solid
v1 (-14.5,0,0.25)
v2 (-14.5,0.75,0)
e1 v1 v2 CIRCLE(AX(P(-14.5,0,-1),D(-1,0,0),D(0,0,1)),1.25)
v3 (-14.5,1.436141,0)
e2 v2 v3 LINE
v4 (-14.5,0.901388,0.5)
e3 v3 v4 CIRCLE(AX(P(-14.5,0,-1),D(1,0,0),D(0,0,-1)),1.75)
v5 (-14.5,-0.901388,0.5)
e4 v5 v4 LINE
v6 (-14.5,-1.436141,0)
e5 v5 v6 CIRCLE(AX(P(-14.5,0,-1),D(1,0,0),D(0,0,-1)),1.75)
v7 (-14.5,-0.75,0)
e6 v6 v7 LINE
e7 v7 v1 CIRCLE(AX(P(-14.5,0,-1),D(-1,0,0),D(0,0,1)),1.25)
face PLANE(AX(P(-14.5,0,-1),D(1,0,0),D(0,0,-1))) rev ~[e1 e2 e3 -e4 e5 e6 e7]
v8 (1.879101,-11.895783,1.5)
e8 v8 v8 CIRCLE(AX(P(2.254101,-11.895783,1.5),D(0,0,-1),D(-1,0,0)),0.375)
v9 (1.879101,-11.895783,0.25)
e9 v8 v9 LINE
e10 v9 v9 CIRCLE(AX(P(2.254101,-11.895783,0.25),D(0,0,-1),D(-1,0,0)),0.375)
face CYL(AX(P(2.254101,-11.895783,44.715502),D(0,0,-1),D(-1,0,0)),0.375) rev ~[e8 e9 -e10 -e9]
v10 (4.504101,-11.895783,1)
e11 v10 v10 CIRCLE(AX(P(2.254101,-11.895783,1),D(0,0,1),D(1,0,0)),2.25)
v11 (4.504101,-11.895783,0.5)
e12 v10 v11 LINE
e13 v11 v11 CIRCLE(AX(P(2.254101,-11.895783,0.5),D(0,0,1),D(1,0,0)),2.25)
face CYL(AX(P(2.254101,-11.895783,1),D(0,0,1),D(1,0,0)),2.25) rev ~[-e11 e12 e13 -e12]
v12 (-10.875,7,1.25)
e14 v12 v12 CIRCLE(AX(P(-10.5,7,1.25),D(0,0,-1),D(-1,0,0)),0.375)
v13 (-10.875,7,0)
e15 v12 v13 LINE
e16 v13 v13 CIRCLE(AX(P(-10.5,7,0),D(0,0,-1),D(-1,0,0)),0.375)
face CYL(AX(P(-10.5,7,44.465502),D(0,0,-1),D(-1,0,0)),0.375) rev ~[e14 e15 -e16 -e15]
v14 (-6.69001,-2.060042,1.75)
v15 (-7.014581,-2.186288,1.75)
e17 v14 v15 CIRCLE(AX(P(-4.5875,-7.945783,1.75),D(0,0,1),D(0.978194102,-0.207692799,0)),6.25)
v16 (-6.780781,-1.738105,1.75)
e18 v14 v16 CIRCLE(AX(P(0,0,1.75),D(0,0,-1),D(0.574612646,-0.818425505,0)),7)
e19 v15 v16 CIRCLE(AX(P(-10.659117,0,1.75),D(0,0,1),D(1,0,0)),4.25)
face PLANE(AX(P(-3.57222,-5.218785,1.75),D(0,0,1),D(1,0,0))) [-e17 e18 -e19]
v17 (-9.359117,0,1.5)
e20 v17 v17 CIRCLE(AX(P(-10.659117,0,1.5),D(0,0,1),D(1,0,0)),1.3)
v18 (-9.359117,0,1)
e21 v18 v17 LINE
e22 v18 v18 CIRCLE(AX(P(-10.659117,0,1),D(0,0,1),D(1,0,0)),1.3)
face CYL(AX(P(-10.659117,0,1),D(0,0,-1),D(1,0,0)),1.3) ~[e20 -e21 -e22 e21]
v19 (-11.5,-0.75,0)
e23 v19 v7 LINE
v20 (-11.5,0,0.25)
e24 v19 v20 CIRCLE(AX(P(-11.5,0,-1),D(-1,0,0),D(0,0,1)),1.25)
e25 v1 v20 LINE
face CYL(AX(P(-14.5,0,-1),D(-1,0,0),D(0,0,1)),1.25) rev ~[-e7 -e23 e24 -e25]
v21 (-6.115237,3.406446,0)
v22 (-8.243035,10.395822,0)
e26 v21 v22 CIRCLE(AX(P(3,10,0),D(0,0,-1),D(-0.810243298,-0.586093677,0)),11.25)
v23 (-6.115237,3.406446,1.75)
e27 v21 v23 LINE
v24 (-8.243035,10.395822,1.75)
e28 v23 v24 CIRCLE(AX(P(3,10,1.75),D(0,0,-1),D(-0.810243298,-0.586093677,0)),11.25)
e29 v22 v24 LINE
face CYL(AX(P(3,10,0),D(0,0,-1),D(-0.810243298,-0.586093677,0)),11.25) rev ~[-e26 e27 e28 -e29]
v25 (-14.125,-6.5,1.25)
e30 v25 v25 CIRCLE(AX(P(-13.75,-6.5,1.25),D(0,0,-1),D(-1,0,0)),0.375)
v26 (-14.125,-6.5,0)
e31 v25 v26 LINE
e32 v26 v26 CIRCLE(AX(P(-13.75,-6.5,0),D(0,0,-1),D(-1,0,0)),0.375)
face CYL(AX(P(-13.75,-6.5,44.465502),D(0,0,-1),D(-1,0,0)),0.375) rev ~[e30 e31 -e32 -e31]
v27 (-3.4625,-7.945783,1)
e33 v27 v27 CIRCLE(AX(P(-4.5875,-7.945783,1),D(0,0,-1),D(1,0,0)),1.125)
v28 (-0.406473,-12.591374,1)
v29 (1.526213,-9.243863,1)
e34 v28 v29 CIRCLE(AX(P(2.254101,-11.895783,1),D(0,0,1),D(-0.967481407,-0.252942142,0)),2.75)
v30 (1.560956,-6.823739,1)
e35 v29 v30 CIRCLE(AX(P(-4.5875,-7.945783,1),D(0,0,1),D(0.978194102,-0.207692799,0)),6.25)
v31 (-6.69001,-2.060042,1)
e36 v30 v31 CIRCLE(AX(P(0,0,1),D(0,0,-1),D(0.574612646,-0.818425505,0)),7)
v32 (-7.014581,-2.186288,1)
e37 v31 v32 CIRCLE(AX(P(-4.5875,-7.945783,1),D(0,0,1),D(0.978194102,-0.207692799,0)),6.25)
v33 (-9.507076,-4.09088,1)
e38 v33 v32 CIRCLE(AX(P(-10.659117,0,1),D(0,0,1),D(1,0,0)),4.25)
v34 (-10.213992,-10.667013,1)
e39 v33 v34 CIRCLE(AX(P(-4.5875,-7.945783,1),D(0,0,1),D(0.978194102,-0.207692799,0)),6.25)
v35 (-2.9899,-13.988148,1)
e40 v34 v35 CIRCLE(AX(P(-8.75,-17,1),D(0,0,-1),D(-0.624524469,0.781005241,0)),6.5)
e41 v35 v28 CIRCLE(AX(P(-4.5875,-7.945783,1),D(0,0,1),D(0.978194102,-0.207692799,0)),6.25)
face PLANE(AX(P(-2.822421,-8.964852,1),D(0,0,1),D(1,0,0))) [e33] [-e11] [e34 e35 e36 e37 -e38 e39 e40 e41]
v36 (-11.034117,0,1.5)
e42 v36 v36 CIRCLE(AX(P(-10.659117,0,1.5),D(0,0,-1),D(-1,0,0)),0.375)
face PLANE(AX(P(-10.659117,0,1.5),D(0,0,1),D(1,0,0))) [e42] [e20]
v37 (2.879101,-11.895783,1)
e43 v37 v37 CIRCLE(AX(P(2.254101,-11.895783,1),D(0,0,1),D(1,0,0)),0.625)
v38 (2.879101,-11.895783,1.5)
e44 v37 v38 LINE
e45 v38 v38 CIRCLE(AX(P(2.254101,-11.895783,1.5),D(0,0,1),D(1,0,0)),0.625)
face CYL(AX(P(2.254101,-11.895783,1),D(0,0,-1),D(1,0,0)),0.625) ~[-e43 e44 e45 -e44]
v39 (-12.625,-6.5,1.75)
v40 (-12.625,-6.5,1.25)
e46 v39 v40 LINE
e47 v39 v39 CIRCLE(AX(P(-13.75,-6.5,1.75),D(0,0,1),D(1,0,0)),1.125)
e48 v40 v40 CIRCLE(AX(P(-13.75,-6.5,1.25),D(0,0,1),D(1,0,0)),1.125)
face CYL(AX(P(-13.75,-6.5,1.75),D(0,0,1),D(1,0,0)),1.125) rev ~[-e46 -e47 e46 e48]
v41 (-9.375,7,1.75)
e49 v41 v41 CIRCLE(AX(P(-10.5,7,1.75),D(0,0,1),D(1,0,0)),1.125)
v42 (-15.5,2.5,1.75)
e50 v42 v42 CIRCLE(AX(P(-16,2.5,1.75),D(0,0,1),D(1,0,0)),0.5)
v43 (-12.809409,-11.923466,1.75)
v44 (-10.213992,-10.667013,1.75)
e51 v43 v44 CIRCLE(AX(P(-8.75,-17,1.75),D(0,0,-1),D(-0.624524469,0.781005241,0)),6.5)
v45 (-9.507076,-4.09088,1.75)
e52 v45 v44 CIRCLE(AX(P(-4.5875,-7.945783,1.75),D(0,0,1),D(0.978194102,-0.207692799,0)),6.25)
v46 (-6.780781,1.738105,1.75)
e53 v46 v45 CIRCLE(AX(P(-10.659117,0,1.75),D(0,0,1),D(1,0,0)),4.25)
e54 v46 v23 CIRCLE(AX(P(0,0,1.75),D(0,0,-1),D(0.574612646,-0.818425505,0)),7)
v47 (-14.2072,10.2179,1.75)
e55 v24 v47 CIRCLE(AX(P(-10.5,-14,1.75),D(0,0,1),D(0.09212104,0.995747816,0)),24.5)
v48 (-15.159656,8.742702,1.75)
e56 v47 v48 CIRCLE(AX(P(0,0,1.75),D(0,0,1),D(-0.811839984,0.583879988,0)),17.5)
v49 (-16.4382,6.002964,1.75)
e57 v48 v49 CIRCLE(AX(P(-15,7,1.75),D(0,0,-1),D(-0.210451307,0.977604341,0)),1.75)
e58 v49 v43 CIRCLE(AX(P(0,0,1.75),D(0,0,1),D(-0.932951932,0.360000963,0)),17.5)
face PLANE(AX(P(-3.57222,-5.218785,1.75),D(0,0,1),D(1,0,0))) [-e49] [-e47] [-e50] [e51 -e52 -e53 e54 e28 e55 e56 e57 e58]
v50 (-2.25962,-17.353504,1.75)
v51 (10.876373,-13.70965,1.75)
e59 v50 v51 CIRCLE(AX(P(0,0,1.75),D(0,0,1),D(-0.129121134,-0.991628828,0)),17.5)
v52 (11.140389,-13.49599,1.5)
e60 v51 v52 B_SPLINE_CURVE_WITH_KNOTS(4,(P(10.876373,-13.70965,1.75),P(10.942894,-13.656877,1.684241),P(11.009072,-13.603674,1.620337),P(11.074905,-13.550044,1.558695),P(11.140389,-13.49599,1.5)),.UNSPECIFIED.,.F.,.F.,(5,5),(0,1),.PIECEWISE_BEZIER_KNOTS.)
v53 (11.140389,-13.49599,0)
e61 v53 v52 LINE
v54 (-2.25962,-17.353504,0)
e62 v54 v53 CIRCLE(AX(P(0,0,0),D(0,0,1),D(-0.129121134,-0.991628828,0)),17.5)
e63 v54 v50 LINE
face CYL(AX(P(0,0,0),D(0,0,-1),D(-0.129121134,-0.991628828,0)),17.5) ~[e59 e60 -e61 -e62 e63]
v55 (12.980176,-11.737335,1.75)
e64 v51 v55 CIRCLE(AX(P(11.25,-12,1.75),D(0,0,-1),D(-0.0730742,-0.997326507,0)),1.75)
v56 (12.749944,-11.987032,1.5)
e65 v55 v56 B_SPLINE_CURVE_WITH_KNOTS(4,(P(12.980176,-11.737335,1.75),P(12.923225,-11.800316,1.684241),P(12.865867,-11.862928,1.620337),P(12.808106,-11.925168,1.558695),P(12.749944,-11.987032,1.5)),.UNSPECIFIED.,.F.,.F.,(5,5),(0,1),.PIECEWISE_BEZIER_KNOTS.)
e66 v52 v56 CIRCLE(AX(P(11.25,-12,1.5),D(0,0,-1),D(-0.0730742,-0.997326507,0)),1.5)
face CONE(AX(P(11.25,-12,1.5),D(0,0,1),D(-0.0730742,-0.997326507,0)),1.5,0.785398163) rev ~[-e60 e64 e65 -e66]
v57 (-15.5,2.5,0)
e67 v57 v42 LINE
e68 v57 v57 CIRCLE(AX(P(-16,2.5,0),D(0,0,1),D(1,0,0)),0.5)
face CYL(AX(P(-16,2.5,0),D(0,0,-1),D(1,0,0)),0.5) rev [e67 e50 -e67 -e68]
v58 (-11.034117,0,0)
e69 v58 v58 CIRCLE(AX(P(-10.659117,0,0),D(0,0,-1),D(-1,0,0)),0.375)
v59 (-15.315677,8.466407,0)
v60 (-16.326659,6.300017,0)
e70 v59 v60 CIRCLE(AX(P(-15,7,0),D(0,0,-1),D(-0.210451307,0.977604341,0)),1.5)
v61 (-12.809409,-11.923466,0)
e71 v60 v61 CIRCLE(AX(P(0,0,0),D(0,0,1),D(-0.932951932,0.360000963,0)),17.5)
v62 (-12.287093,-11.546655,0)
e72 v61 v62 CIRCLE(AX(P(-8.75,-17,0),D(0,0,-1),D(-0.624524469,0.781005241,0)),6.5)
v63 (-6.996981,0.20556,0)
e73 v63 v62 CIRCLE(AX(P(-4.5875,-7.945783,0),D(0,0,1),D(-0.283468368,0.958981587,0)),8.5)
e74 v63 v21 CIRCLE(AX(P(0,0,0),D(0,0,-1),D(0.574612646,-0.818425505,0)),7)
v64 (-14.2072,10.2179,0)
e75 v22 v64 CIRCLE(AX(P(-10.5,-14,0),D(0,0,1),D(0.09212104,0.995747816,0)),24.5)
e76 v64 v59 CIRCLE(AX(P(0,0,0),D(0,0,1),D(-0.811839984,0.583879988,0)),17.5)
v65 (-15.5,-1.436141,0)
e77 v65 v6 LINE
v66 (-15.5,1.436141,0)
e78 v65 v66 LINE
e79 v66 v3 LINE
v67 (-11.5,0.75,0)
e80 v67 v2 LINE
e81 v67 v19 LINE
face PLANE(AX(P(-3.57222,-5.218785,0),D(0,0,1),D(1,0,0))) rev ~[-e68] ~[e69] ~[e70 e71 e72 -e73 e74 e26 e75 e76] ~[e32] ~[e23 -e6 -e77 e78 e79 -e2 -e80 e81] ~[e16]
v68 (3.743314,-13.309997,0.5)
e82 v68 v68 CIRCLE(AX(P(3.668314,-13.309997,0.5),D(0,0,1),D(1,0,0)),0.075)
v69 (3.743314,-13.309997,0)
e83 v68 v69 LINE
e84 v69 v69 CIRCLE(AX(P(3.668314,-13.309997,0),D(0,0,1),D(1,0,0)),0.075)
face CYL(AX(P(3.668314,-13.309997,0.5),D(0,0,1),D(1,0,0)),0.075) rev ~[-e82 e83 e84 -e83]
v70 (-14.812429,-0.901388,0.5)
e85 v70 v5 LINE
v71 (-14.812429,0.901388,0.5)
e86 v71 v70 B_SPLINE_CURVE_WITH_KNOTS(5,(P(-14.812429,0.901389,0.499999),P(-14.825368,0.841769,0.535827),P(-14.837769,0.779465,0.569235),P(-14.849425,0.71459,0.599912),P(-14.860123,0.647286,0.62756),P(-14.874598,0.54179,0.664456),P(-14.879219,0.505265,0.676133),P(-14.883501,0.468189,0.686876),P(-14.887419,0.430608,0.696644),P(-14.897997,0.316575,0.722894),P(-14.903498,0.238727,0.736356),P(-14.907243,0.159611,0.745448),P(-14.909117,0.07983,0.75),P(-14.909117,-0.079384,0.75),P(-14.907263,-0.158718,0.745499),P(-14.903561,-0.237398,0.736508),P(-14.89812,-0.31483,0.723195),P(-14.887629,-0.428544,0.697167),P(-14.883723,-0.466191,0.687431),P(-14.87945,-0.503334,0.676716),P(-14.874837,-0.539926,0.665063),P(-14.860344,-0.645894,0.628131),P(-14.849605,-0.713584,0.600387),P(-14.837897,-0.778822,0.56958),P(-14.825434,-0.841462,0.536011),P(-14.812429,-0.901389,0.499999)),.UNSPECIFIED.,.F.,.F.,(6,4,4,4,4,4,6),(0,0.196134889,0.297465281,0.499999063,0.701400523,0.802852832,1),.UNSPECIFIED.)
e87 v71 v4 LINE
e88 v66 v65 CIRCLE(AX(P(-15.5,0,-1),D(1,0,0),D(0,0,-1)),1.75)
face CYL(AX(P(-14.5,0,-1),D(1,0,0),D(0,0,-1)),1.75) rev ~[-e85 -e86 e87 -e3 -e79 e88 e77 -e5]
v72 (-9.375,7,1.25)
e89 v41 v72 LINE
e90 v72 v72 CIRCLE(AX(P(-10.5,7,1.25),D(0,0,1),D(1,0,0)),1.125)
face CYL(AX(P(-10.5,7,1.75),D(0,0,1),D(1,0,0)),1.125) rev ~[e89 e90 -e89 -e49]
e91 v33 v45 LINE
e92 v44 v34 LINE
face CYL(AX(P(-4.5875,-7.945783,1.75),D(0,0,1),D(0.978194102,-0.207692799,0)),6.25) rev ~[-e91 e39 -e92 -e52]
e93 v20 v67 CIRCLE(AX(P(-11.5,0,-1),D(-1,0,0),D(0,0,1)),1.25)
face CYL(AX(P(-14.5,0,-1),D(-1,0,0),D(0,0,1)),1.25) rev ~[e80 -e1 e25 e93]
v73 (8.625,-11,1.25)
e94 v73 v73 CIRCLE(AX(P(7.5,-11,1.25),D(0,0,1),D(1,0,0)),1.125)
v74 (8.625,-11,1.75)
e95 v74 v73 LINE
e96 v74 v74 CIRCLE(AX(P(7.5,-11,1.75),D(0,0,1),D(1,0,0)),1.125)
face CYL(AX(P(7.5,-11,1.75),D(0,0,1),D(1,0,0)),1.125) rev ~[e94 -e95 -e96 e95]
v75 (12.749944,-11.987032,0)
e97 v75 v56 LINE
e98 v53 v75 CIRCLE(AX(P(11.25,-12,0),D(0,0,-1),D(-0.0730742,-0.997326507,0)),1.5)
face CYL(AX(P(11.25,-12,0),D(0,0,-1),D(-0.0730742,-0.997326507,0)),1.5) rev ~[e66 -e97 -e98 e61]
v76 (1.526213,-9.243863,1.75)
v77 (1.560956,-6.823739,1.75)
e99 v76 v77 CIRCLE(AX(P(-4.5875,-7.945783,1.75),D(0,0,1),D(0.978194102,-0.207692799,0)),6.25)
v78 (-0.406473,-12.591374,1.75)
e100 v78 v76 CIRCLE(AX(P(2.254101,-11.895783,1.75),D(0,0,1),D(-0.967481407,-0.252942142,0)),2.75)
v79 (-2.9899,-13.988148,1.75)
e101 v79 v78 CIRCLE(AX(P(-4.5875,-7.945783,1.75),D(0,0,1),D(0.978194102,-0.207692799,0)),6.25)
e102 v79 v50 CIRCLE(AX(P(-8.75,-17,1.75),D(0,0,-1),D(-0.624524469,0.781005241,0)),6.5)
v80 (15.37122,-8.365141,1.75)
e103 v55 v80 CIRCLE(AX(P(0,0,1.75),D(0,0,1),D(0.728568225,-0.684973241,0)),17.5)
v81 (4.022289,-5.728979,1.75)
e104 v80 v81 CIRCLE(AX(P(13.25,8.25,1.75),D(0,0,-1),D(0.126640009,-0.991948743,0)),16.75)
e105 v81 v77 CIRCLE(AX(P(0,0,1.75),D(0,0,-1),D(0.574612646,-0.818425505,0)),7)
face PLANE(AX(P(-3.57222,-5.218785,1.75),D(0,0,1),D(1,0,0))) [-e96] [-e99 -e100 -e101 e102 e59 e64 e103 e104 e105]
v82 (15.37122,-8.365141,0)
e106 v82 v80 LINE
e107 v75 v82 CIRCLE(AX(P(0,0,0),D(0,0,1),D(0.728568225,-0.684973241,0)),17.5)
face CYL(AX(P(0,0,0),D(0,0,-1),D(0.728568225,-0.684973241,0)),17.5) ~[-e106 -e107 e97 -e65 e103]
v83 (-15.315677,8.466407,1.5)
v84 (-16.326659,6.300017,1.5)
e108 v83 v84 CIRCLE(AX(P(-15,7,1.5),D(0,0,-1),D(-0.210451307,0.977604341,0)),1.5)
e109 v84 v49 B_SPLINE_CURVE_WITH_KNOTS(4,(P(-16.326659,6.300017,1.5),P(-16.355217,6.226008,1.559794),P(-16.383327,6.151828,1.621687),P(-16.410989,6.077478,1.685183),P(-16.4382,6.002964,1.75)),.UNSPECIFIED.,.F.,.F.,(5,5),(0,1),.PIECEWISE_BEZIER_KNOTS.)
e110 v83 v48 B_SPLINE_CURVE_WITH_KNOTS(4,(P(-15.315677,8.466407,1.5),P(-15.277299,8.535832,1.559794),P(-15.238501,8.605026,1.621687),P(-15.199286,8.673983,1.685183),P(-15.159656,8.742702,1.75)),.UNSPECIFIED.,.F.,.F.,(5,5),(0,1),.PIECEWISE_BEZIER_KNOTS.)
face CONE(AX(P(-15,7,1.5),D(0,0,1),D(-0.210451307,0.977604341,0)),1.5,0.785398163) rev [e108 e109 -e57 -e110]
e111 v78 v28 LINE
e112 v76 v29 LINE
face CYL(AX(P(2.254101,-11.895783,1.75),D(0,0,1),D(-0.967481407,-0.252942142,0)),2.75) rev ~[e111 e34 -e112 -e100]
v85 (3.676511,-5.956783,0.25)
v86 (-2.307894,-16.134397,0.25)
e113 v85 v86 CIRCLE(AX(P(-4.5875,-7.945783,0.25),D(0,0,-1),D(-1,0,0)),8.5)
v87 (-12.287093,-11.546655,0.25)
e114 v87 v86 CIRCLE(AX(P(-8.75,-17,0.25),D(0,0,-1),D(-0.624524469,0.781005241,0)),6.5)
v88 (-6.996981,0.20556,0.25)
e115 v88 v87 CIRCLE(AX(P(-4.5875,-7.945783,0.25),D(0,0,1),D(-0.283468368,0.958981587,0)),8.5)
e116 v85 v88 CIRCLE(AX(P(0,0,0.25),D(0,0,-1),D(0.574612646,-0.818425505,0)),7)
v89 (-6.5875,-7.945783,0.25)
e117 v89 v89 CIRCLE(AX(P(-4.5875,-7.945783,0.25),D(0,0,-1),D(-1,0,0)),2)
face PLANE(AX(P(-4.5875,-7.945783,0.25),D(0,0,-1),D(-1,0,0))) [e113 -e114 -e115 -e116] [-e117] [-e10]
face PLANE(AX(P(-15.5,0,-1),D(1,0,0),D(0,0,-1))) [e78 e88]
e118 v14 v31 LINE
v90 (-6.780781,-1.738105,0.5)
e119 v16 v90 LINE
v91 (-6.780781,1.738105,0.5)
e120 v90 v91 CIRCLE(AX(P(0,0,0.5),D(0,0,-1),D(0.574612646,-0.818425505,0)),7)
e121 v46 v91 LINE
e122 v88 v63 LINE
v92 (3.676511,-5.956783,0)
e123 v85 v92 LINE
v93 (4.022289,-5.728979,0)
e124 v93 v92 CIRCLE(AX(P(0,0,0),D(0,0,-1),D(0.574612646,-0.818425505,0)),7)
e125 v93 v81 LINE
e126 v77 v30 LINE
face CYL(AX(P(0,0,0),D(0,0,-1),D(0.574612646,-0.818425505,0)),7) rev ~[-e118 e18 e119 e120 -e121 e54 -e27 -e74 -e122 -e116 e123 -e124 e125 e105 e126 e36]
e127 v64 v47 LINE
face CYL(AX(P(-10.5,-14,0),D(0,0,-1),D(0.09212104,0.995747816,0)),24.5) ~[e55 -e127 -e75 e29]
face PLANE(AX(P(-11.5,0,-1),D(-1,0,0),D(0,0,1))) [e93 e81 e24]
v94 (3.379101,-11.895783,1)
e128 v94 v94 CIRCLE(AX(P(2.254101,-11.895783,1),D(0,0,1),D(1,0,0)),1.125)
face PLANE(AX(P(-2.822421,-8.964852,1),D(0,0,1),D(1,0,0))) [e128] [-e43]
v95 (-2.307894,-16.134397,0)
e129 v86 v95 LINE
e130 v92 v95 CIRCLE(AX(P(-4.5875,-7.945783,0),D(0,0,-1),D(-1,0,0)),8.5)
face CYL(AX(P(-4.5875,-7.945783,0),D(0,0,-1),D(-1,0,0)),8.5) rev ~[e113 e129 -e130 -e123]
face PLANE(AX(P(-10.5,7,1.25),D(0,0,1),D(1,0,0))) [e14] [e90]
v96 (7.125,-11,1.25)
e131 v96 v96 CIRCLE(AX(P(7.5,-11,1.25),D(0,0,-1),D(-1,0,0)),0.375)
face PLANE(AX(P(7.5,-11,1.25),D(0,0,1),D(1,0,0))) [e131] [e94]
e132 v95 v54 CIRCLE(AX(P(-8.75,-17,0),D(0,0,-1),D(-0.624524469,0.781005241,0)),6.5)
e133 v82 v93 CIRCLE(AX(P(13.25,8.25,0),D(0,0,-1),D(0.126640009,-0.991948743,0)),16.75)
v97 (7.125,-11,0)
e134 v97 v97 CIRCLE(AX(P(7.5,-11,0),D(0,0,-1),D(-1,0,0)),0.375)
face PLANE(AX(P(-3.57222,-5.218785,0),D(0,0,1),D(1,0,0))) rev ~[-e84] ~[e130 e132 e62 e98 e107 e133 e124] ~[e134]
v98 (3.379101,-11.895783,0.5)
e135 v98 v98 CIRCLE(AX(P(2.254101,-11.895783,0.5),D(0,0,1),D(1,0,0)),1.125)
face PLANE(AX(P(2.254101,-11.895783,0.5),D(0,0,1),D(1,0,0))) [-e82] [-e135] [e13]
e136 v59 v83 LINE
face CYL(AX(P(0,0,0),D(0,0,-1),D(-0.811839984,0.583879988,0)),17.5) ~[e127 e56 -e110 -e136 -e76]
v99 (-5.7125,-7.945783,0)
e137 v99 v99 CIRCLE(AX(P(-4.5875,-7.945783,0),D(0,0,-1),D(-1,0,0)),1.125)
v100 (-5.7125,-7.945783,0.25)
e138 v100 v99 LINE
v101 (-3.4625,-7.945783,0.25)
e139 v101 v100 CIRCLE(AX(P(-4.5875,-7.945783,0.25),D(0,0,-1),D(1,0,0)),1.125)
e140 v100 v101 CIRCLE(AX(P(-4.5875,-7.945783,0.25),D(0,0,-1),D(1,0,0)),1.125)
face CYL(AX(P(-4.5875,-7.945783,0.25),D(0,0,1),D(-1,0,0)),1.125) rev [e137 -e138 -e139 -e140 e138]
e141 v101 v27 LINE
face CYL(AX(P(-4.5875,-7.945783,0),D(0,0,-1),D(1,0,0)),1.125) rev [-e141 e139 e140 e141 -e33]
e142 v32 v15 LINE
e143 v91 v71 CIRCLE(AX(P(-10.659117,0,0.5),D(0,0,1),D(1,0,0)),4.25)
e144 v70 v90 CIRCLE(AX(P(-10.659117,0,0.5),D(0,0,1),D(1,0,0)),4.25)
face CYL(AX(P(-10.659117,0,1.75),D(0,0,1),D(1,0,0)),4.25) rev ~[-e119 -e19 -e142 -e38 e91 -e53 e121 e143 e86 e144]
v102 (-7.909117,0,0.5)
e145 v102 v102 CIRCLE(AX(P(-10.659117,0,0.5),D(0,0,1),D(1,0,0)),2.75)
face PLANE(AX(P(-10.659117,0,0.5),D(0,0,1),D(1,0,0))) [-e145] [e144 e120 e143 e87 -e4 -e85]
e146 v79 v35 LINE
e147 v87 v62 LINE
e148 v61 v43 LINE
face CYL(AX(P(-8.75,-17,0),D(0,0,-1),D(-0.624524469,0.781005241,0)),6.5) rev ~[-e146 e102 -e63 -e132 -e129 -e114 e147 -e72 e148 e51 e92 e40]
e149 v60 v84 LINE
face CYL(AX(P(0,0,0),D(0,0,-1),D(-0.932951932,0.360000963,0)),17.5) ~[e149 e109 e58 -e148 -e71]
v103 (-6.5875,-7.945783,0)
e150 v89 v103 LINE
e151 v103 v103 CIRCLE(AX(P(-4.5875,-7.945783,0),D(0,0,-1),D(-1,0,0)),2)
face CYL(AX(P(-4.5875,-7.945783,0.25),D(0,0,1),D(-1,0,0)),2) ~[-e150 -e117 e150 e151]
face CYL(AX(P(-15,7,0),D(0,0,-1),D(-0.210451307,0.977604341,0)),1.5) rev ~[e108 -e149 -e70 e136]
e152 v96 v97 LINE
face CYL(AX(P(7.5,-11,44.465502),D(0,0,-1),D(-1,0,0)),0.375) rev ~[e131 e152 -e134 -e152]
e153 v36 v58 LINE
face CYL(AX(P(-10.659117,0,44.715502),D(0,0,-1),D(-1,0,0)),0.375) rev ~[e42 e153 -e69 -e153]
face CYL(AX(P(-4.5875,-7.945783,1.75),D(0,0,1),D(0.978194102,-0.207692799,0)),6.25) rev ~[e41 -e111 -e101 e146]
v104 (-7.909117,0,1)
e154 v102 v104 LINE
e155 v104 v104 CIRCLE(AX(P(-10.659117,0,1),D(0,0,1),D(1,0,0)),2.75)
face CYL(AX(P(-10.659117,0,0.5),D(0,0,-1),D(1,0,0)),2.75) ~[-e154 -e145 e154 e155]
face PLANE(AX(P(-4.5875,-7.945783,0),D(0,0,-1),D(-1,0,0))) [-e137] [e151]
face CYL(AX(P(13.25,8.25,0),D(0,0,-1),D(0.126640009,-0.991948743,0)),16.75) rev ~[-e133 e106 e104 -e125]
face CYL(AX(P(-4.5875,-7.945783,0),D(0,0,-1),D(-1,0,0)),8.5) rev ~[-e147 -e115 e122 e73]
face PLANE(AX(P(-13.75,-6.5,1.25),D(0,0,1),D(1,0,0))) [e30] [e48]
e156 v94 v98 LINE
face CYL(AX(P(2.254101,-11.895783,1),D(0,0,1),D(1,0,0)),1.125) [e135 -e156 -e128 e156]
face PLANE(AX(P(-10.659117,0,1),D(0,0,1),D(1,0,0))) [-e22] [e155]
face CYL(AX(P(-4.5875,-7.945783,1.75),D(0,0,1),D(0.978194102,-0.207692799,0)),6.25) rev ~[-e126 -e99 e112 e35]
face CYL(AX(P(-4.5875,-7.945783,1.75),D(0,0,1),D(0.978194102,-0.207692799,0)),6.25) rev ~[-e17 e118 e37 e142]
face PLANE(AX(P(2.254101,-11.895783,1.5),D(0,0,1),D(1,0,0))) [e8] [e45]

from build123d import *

# Parameters (mm, degrees)
CROQUIS2_R                 = 1.125
CROQUIS2_R_2               = 0.5
SALIENTE_EXTRUIR1_DEPTH    = 1.75
CORTAR_EXTRUIR1_DEPTH      = 0.75
CROQUIS4_R                 = 8.5
CORTAR_EXTRUIR2_DEPTH      = 0.25
CROQUIS5_R                 = 2.25
CROQUIS5_R_2               = 1.125
CORTAR_EXTRUIR3_DEPTH      = 0.5
CROQUIS6_R                 = 0.625
SALIENTE_EXTRUIR2_DEPTH    = 0.5
CROQUIS7_R                 = 4.25
CORTAR_EXTRUIR4_DEPTH      = 1.25
CROQUIS8_R                 = 2.75
SALIENTE_EXTRUIR3_DEPTH    = 0.5
CROQUIS9_R                 = 1.3
SALIENTE_EXTRUIR4_DEPTH    = 0.5
CROQUIS10_R                = 0.075
CORTAR_EXTRUIR5_DEPTH      = 1.5
CROQUIS11_R                = 1.125
CORTAR_EXTRUIR6_DEPTH      = 0.5
TALADRO_ROSCADO_M1X0_251_D = 0.75
TALADRO_ROSCADO_M1X0_253_D = 0.75
CHAFL_N1_SIZE              = 0.25
CROQUIS16_R                = 2
CROQUIS16_R_2              = 1.125
SALIENTE_EXTRUIR5_DEPTH    = 0.25
CROQUIS19_R                = 1.75
CORTAR_EXTRUIR7_DEPTH      = 1
CROQUIS20_R                = 1.25
CORTAR_EXTRUIR8_DEPTH      = 3
TALADRO_ROSCADO_M1X0_252_D = 0.75


with BuildPart() as part:
    # Croquis2 → Saliente-Extruir1 (new body)
    with BuildSketch(Plane.XY):
        with BuildLine():
            ThreePointArc((-16.326658805, 6.300016846), (-17.182882286, -3.316407146), (-12.80940905, -11.92346593))
            ThreePointArc((-12.80940905, -11.92346593), (-5.775317693, -11.220617232), (-2.259619844, -17.353504492))
            ThreePointArc((-2.259619844, -17.353504492), (4.841189817, -16.817041391), (11.1403887, -13.49598976))
            ThreePointArc((11.1403887, -13.49598976), (10.224088307, -10.905694194), (12.74994394, -11.987031723))
            ThreePointArc((12.74994394, -11.987031723), (14.176723516, -10.260141829), (15.371220143, -8.365141441))
            ThreePointArc((15.371220143, -8.365141441), (9.460159173, -8.065624613), (4.022288522, -5.728978535))
            ThreePointArc((4.022288522, -5.728978535), (-4.686054245, -5.200086116), (-6.115237098, 3.406446129))
            ThreePointArc((-6.115237098, 3.406446129), (-7.762325395, 6.723591586), (-8.243034525, 10.395821504))
            ThreePointArc((-8.243034525, 10.395821504), (-11.230553814, 10.48910556), (-14.20719972, 10.21789979))
            ThreePointArc((-14.20719972, 10.21789979), (-14.787393079, 9.358579269), (-15.315676961, 8.466406511))
            ThreePointArc((-15.315676961, 8.466406511), (-13.64072529, 6.365671802), (-16.326658805, 6.300016846))
        make_face()
        with Locations((-4.5875, -7.94578308)):
            Circle(CROQUIS2_R, mode=Mode.SUBTRACT)
        with Locations((-16, 2.5)):
            Circle(CROQUIS2_R_2, mode=Mode.SUBTRACT)
    extrude(amount=SALIENTE_EXTRUIR1_DEPTH)

    # Croquis3 → Cortar-Extruir1 (cut)
    with BuildSketch(Plane.XY.offset(1.75)):
        with BuildLine():
            ThreePointArc((1.526213137, -9.243863075), (-10.000158774, -4.82078308), (-0.406473179, -12.59137397))
            ThreePointArc((-0.406473179, -12.59137397), (4.63567055, -13.27078308), (1.526213137, -9.243863075))
        make_face()
    extrude(amount=-CORTAR_EXTRUIR1_DEPTH, mode=Mode.SUBTRACT)

    # Croquis4 → Cortar-Extruir2 (cut)
    with BuildSketch(Plane(origin=(0, 0, 0), x_dir=(-1, 0, 0), z_dir=(0, 0, -1))):
        with Locations((4.5875, -7.94578308)):
            Circle(CROQUIS4_R)
    extrude(amount=-CORTAR_EXTRUIR2_DEPTH, mode=Mode.SUBTRACT)

    # Croquis5 → Cortar-Extruir3 (cut)
    with BuildSketch(Plane.XY.offset(1)):
        with Locations((2.25410069, -11.89578308)):
            Circle(CROQUIS5_R)
        with Locations((2.25410069, -11.89578308)):
            Circle(CROQUIS5_R_2, mode=Mode.SUBTRACT)
    extrude(amount=-CORTAR_EXTRUIR3_DEPTH, mode=Mode.SUBTRACT)

    # Croquis6 → Saliente-Extruir2 (add)
    with BuildSketch(Plane.XY.offset(1)):
        with Locations((2.25410069, -11.89578308)):
            Circle(CROQUIS6_R)
    extrude(amount=SALIENTE_EXTRUIR2_DEPTH)

    # Croquis7 → Cortar-Extruir4 (cut)
    with BuildSketch(Plane.XY.offset(1.75)):
        with Locations((-10.659116856, 0)):
            Circle(CROQUIS7_R)
    extrude(amount=-CORTAR_EXTRUIR4_DEPTH, mode=Mode.SUBTRACT)

    # Croquis8 → Saliente-Extruir3 (add)
    with BuildSketch(Plane.XY.offset(0.5)):
        with Locations((-10.659116856, 0)):
            Circle(CROQUIS8_R)
    extrude(amount=SALIENTE_EXTRUIR3_DEPTH)

    # Croquis9 → Saliente-Extruir4 (add)
    with BuildSketch(Plane.XY.offset(1)):
        with Locations((-10.659116856, 0)):
            Circle(CROQUIS9_R)
    extrude(amount=SALIENTE_EXTRUIR4_DEPTH)

    # Croquis10 → Cortar-Extruir5 (cut, through all)
    with BuildSketch(Plane.XY.offset(0.5)):
        with Locations((3.668314252, -13.309996642)):
            Circle(CROQUIS10_R)
    extrude(amount=-CORTAR_EXTRUIR5_DEPTH, mode=Mode.SUBTRACT)

    # Croquis11 → Cortar-Extruir6 (cut)
    with BuildSketch(Plane.XY.offset(1.75)):
        with Locations((-13.75, -6.5)):
            Circle(CROQUIS11_R)
        with Locations((-10.5, 7)):
            Circle(CROQUIS11_R)
        with Locations((7.5, -11)):
            Circle(CROQUIS11_R)
    extrude(amount=-CORTAR_EXTRUIR6_DEPTH, mode=Mode.SUBTRACT)

    # Taladro roscado M1x0.251 (through all)
    with Locations(Plane.XY.offset(1.5)):
        with Locations((2.25410069, -11.89578308)):
            Hole(TALADRO_ROSCADO_M1X0_251_D / 2)

    # Taladro roscado M1x0.253 (through all)
    with Locations(Plane.XY.offset(1.5)):
        with Locations((-10.659116856, 0)):
            Hole(TALADRO_ROSCADO_M1X0_253_D / 2)

    # Chaflán1
    chafl_n1_edges = [part.edges().sort_by_distance(p)[0] for p in [
        (10.224088307, -10.905694194, 1.75),
        (-13.64072529, 6.365671802, 1.75),
    ]]
    chamfer(chafl_n1_edges, length=CHAFL_N1_SIZE)

    # Croquis16 → Saliente-Extruir5 (add)
    with BuildSketch(Plane(origin=(0, 0, 0.25), x_dir=(-1, 0, 0), z_dir=(0, 0, -1))):
        with Locations((4.5875, -7.94578308)):
            Circle(CROQUIS16_R)
        with Locations((4.5875, -7.94578308)):
            Circle(CROQUIS16_R_2, mode=Mode.SUBTRACT)
    extrude(amount=SALIENTE_EXTRUIR5_DEPTH)

    # Croquis19 → Cortar-Extruir7 (cut)
    with BuildSketch(Plane(origin=(-14.5, 0, 0), x_dir=(0, 0, -1), z_dir=(1, 0, 0))):
        with Locations((1, 0)):
            Circle(CROQUIS19_R)
    extrude(amount=-CORTAR_EXTRUIR7_DEPTH, mode=Mode.SUBTRACT)

    # Croquis20 → Cortar-Extruir8 (cut)
    with BuildSketch(Plane.ZY.offset(14.5)):
        with Locations((-1, 0)):
            Circle(CROQUIS20_R)
    extrude(amount=-CORTAR_EXTRUIR8_DEPTH, mode=Mode.SUBTRACT)

    # Taladro roscado M1x0.252 (through all)
    with Locations(Plane.XY.offset(1.25)):
        with Locations((-13.75, -6.5), (-10.5, 7), (7.5, -11)):
            Hole(TALADRO_ROSCADO_M1X0_252_D / 2)


solid = part.part
